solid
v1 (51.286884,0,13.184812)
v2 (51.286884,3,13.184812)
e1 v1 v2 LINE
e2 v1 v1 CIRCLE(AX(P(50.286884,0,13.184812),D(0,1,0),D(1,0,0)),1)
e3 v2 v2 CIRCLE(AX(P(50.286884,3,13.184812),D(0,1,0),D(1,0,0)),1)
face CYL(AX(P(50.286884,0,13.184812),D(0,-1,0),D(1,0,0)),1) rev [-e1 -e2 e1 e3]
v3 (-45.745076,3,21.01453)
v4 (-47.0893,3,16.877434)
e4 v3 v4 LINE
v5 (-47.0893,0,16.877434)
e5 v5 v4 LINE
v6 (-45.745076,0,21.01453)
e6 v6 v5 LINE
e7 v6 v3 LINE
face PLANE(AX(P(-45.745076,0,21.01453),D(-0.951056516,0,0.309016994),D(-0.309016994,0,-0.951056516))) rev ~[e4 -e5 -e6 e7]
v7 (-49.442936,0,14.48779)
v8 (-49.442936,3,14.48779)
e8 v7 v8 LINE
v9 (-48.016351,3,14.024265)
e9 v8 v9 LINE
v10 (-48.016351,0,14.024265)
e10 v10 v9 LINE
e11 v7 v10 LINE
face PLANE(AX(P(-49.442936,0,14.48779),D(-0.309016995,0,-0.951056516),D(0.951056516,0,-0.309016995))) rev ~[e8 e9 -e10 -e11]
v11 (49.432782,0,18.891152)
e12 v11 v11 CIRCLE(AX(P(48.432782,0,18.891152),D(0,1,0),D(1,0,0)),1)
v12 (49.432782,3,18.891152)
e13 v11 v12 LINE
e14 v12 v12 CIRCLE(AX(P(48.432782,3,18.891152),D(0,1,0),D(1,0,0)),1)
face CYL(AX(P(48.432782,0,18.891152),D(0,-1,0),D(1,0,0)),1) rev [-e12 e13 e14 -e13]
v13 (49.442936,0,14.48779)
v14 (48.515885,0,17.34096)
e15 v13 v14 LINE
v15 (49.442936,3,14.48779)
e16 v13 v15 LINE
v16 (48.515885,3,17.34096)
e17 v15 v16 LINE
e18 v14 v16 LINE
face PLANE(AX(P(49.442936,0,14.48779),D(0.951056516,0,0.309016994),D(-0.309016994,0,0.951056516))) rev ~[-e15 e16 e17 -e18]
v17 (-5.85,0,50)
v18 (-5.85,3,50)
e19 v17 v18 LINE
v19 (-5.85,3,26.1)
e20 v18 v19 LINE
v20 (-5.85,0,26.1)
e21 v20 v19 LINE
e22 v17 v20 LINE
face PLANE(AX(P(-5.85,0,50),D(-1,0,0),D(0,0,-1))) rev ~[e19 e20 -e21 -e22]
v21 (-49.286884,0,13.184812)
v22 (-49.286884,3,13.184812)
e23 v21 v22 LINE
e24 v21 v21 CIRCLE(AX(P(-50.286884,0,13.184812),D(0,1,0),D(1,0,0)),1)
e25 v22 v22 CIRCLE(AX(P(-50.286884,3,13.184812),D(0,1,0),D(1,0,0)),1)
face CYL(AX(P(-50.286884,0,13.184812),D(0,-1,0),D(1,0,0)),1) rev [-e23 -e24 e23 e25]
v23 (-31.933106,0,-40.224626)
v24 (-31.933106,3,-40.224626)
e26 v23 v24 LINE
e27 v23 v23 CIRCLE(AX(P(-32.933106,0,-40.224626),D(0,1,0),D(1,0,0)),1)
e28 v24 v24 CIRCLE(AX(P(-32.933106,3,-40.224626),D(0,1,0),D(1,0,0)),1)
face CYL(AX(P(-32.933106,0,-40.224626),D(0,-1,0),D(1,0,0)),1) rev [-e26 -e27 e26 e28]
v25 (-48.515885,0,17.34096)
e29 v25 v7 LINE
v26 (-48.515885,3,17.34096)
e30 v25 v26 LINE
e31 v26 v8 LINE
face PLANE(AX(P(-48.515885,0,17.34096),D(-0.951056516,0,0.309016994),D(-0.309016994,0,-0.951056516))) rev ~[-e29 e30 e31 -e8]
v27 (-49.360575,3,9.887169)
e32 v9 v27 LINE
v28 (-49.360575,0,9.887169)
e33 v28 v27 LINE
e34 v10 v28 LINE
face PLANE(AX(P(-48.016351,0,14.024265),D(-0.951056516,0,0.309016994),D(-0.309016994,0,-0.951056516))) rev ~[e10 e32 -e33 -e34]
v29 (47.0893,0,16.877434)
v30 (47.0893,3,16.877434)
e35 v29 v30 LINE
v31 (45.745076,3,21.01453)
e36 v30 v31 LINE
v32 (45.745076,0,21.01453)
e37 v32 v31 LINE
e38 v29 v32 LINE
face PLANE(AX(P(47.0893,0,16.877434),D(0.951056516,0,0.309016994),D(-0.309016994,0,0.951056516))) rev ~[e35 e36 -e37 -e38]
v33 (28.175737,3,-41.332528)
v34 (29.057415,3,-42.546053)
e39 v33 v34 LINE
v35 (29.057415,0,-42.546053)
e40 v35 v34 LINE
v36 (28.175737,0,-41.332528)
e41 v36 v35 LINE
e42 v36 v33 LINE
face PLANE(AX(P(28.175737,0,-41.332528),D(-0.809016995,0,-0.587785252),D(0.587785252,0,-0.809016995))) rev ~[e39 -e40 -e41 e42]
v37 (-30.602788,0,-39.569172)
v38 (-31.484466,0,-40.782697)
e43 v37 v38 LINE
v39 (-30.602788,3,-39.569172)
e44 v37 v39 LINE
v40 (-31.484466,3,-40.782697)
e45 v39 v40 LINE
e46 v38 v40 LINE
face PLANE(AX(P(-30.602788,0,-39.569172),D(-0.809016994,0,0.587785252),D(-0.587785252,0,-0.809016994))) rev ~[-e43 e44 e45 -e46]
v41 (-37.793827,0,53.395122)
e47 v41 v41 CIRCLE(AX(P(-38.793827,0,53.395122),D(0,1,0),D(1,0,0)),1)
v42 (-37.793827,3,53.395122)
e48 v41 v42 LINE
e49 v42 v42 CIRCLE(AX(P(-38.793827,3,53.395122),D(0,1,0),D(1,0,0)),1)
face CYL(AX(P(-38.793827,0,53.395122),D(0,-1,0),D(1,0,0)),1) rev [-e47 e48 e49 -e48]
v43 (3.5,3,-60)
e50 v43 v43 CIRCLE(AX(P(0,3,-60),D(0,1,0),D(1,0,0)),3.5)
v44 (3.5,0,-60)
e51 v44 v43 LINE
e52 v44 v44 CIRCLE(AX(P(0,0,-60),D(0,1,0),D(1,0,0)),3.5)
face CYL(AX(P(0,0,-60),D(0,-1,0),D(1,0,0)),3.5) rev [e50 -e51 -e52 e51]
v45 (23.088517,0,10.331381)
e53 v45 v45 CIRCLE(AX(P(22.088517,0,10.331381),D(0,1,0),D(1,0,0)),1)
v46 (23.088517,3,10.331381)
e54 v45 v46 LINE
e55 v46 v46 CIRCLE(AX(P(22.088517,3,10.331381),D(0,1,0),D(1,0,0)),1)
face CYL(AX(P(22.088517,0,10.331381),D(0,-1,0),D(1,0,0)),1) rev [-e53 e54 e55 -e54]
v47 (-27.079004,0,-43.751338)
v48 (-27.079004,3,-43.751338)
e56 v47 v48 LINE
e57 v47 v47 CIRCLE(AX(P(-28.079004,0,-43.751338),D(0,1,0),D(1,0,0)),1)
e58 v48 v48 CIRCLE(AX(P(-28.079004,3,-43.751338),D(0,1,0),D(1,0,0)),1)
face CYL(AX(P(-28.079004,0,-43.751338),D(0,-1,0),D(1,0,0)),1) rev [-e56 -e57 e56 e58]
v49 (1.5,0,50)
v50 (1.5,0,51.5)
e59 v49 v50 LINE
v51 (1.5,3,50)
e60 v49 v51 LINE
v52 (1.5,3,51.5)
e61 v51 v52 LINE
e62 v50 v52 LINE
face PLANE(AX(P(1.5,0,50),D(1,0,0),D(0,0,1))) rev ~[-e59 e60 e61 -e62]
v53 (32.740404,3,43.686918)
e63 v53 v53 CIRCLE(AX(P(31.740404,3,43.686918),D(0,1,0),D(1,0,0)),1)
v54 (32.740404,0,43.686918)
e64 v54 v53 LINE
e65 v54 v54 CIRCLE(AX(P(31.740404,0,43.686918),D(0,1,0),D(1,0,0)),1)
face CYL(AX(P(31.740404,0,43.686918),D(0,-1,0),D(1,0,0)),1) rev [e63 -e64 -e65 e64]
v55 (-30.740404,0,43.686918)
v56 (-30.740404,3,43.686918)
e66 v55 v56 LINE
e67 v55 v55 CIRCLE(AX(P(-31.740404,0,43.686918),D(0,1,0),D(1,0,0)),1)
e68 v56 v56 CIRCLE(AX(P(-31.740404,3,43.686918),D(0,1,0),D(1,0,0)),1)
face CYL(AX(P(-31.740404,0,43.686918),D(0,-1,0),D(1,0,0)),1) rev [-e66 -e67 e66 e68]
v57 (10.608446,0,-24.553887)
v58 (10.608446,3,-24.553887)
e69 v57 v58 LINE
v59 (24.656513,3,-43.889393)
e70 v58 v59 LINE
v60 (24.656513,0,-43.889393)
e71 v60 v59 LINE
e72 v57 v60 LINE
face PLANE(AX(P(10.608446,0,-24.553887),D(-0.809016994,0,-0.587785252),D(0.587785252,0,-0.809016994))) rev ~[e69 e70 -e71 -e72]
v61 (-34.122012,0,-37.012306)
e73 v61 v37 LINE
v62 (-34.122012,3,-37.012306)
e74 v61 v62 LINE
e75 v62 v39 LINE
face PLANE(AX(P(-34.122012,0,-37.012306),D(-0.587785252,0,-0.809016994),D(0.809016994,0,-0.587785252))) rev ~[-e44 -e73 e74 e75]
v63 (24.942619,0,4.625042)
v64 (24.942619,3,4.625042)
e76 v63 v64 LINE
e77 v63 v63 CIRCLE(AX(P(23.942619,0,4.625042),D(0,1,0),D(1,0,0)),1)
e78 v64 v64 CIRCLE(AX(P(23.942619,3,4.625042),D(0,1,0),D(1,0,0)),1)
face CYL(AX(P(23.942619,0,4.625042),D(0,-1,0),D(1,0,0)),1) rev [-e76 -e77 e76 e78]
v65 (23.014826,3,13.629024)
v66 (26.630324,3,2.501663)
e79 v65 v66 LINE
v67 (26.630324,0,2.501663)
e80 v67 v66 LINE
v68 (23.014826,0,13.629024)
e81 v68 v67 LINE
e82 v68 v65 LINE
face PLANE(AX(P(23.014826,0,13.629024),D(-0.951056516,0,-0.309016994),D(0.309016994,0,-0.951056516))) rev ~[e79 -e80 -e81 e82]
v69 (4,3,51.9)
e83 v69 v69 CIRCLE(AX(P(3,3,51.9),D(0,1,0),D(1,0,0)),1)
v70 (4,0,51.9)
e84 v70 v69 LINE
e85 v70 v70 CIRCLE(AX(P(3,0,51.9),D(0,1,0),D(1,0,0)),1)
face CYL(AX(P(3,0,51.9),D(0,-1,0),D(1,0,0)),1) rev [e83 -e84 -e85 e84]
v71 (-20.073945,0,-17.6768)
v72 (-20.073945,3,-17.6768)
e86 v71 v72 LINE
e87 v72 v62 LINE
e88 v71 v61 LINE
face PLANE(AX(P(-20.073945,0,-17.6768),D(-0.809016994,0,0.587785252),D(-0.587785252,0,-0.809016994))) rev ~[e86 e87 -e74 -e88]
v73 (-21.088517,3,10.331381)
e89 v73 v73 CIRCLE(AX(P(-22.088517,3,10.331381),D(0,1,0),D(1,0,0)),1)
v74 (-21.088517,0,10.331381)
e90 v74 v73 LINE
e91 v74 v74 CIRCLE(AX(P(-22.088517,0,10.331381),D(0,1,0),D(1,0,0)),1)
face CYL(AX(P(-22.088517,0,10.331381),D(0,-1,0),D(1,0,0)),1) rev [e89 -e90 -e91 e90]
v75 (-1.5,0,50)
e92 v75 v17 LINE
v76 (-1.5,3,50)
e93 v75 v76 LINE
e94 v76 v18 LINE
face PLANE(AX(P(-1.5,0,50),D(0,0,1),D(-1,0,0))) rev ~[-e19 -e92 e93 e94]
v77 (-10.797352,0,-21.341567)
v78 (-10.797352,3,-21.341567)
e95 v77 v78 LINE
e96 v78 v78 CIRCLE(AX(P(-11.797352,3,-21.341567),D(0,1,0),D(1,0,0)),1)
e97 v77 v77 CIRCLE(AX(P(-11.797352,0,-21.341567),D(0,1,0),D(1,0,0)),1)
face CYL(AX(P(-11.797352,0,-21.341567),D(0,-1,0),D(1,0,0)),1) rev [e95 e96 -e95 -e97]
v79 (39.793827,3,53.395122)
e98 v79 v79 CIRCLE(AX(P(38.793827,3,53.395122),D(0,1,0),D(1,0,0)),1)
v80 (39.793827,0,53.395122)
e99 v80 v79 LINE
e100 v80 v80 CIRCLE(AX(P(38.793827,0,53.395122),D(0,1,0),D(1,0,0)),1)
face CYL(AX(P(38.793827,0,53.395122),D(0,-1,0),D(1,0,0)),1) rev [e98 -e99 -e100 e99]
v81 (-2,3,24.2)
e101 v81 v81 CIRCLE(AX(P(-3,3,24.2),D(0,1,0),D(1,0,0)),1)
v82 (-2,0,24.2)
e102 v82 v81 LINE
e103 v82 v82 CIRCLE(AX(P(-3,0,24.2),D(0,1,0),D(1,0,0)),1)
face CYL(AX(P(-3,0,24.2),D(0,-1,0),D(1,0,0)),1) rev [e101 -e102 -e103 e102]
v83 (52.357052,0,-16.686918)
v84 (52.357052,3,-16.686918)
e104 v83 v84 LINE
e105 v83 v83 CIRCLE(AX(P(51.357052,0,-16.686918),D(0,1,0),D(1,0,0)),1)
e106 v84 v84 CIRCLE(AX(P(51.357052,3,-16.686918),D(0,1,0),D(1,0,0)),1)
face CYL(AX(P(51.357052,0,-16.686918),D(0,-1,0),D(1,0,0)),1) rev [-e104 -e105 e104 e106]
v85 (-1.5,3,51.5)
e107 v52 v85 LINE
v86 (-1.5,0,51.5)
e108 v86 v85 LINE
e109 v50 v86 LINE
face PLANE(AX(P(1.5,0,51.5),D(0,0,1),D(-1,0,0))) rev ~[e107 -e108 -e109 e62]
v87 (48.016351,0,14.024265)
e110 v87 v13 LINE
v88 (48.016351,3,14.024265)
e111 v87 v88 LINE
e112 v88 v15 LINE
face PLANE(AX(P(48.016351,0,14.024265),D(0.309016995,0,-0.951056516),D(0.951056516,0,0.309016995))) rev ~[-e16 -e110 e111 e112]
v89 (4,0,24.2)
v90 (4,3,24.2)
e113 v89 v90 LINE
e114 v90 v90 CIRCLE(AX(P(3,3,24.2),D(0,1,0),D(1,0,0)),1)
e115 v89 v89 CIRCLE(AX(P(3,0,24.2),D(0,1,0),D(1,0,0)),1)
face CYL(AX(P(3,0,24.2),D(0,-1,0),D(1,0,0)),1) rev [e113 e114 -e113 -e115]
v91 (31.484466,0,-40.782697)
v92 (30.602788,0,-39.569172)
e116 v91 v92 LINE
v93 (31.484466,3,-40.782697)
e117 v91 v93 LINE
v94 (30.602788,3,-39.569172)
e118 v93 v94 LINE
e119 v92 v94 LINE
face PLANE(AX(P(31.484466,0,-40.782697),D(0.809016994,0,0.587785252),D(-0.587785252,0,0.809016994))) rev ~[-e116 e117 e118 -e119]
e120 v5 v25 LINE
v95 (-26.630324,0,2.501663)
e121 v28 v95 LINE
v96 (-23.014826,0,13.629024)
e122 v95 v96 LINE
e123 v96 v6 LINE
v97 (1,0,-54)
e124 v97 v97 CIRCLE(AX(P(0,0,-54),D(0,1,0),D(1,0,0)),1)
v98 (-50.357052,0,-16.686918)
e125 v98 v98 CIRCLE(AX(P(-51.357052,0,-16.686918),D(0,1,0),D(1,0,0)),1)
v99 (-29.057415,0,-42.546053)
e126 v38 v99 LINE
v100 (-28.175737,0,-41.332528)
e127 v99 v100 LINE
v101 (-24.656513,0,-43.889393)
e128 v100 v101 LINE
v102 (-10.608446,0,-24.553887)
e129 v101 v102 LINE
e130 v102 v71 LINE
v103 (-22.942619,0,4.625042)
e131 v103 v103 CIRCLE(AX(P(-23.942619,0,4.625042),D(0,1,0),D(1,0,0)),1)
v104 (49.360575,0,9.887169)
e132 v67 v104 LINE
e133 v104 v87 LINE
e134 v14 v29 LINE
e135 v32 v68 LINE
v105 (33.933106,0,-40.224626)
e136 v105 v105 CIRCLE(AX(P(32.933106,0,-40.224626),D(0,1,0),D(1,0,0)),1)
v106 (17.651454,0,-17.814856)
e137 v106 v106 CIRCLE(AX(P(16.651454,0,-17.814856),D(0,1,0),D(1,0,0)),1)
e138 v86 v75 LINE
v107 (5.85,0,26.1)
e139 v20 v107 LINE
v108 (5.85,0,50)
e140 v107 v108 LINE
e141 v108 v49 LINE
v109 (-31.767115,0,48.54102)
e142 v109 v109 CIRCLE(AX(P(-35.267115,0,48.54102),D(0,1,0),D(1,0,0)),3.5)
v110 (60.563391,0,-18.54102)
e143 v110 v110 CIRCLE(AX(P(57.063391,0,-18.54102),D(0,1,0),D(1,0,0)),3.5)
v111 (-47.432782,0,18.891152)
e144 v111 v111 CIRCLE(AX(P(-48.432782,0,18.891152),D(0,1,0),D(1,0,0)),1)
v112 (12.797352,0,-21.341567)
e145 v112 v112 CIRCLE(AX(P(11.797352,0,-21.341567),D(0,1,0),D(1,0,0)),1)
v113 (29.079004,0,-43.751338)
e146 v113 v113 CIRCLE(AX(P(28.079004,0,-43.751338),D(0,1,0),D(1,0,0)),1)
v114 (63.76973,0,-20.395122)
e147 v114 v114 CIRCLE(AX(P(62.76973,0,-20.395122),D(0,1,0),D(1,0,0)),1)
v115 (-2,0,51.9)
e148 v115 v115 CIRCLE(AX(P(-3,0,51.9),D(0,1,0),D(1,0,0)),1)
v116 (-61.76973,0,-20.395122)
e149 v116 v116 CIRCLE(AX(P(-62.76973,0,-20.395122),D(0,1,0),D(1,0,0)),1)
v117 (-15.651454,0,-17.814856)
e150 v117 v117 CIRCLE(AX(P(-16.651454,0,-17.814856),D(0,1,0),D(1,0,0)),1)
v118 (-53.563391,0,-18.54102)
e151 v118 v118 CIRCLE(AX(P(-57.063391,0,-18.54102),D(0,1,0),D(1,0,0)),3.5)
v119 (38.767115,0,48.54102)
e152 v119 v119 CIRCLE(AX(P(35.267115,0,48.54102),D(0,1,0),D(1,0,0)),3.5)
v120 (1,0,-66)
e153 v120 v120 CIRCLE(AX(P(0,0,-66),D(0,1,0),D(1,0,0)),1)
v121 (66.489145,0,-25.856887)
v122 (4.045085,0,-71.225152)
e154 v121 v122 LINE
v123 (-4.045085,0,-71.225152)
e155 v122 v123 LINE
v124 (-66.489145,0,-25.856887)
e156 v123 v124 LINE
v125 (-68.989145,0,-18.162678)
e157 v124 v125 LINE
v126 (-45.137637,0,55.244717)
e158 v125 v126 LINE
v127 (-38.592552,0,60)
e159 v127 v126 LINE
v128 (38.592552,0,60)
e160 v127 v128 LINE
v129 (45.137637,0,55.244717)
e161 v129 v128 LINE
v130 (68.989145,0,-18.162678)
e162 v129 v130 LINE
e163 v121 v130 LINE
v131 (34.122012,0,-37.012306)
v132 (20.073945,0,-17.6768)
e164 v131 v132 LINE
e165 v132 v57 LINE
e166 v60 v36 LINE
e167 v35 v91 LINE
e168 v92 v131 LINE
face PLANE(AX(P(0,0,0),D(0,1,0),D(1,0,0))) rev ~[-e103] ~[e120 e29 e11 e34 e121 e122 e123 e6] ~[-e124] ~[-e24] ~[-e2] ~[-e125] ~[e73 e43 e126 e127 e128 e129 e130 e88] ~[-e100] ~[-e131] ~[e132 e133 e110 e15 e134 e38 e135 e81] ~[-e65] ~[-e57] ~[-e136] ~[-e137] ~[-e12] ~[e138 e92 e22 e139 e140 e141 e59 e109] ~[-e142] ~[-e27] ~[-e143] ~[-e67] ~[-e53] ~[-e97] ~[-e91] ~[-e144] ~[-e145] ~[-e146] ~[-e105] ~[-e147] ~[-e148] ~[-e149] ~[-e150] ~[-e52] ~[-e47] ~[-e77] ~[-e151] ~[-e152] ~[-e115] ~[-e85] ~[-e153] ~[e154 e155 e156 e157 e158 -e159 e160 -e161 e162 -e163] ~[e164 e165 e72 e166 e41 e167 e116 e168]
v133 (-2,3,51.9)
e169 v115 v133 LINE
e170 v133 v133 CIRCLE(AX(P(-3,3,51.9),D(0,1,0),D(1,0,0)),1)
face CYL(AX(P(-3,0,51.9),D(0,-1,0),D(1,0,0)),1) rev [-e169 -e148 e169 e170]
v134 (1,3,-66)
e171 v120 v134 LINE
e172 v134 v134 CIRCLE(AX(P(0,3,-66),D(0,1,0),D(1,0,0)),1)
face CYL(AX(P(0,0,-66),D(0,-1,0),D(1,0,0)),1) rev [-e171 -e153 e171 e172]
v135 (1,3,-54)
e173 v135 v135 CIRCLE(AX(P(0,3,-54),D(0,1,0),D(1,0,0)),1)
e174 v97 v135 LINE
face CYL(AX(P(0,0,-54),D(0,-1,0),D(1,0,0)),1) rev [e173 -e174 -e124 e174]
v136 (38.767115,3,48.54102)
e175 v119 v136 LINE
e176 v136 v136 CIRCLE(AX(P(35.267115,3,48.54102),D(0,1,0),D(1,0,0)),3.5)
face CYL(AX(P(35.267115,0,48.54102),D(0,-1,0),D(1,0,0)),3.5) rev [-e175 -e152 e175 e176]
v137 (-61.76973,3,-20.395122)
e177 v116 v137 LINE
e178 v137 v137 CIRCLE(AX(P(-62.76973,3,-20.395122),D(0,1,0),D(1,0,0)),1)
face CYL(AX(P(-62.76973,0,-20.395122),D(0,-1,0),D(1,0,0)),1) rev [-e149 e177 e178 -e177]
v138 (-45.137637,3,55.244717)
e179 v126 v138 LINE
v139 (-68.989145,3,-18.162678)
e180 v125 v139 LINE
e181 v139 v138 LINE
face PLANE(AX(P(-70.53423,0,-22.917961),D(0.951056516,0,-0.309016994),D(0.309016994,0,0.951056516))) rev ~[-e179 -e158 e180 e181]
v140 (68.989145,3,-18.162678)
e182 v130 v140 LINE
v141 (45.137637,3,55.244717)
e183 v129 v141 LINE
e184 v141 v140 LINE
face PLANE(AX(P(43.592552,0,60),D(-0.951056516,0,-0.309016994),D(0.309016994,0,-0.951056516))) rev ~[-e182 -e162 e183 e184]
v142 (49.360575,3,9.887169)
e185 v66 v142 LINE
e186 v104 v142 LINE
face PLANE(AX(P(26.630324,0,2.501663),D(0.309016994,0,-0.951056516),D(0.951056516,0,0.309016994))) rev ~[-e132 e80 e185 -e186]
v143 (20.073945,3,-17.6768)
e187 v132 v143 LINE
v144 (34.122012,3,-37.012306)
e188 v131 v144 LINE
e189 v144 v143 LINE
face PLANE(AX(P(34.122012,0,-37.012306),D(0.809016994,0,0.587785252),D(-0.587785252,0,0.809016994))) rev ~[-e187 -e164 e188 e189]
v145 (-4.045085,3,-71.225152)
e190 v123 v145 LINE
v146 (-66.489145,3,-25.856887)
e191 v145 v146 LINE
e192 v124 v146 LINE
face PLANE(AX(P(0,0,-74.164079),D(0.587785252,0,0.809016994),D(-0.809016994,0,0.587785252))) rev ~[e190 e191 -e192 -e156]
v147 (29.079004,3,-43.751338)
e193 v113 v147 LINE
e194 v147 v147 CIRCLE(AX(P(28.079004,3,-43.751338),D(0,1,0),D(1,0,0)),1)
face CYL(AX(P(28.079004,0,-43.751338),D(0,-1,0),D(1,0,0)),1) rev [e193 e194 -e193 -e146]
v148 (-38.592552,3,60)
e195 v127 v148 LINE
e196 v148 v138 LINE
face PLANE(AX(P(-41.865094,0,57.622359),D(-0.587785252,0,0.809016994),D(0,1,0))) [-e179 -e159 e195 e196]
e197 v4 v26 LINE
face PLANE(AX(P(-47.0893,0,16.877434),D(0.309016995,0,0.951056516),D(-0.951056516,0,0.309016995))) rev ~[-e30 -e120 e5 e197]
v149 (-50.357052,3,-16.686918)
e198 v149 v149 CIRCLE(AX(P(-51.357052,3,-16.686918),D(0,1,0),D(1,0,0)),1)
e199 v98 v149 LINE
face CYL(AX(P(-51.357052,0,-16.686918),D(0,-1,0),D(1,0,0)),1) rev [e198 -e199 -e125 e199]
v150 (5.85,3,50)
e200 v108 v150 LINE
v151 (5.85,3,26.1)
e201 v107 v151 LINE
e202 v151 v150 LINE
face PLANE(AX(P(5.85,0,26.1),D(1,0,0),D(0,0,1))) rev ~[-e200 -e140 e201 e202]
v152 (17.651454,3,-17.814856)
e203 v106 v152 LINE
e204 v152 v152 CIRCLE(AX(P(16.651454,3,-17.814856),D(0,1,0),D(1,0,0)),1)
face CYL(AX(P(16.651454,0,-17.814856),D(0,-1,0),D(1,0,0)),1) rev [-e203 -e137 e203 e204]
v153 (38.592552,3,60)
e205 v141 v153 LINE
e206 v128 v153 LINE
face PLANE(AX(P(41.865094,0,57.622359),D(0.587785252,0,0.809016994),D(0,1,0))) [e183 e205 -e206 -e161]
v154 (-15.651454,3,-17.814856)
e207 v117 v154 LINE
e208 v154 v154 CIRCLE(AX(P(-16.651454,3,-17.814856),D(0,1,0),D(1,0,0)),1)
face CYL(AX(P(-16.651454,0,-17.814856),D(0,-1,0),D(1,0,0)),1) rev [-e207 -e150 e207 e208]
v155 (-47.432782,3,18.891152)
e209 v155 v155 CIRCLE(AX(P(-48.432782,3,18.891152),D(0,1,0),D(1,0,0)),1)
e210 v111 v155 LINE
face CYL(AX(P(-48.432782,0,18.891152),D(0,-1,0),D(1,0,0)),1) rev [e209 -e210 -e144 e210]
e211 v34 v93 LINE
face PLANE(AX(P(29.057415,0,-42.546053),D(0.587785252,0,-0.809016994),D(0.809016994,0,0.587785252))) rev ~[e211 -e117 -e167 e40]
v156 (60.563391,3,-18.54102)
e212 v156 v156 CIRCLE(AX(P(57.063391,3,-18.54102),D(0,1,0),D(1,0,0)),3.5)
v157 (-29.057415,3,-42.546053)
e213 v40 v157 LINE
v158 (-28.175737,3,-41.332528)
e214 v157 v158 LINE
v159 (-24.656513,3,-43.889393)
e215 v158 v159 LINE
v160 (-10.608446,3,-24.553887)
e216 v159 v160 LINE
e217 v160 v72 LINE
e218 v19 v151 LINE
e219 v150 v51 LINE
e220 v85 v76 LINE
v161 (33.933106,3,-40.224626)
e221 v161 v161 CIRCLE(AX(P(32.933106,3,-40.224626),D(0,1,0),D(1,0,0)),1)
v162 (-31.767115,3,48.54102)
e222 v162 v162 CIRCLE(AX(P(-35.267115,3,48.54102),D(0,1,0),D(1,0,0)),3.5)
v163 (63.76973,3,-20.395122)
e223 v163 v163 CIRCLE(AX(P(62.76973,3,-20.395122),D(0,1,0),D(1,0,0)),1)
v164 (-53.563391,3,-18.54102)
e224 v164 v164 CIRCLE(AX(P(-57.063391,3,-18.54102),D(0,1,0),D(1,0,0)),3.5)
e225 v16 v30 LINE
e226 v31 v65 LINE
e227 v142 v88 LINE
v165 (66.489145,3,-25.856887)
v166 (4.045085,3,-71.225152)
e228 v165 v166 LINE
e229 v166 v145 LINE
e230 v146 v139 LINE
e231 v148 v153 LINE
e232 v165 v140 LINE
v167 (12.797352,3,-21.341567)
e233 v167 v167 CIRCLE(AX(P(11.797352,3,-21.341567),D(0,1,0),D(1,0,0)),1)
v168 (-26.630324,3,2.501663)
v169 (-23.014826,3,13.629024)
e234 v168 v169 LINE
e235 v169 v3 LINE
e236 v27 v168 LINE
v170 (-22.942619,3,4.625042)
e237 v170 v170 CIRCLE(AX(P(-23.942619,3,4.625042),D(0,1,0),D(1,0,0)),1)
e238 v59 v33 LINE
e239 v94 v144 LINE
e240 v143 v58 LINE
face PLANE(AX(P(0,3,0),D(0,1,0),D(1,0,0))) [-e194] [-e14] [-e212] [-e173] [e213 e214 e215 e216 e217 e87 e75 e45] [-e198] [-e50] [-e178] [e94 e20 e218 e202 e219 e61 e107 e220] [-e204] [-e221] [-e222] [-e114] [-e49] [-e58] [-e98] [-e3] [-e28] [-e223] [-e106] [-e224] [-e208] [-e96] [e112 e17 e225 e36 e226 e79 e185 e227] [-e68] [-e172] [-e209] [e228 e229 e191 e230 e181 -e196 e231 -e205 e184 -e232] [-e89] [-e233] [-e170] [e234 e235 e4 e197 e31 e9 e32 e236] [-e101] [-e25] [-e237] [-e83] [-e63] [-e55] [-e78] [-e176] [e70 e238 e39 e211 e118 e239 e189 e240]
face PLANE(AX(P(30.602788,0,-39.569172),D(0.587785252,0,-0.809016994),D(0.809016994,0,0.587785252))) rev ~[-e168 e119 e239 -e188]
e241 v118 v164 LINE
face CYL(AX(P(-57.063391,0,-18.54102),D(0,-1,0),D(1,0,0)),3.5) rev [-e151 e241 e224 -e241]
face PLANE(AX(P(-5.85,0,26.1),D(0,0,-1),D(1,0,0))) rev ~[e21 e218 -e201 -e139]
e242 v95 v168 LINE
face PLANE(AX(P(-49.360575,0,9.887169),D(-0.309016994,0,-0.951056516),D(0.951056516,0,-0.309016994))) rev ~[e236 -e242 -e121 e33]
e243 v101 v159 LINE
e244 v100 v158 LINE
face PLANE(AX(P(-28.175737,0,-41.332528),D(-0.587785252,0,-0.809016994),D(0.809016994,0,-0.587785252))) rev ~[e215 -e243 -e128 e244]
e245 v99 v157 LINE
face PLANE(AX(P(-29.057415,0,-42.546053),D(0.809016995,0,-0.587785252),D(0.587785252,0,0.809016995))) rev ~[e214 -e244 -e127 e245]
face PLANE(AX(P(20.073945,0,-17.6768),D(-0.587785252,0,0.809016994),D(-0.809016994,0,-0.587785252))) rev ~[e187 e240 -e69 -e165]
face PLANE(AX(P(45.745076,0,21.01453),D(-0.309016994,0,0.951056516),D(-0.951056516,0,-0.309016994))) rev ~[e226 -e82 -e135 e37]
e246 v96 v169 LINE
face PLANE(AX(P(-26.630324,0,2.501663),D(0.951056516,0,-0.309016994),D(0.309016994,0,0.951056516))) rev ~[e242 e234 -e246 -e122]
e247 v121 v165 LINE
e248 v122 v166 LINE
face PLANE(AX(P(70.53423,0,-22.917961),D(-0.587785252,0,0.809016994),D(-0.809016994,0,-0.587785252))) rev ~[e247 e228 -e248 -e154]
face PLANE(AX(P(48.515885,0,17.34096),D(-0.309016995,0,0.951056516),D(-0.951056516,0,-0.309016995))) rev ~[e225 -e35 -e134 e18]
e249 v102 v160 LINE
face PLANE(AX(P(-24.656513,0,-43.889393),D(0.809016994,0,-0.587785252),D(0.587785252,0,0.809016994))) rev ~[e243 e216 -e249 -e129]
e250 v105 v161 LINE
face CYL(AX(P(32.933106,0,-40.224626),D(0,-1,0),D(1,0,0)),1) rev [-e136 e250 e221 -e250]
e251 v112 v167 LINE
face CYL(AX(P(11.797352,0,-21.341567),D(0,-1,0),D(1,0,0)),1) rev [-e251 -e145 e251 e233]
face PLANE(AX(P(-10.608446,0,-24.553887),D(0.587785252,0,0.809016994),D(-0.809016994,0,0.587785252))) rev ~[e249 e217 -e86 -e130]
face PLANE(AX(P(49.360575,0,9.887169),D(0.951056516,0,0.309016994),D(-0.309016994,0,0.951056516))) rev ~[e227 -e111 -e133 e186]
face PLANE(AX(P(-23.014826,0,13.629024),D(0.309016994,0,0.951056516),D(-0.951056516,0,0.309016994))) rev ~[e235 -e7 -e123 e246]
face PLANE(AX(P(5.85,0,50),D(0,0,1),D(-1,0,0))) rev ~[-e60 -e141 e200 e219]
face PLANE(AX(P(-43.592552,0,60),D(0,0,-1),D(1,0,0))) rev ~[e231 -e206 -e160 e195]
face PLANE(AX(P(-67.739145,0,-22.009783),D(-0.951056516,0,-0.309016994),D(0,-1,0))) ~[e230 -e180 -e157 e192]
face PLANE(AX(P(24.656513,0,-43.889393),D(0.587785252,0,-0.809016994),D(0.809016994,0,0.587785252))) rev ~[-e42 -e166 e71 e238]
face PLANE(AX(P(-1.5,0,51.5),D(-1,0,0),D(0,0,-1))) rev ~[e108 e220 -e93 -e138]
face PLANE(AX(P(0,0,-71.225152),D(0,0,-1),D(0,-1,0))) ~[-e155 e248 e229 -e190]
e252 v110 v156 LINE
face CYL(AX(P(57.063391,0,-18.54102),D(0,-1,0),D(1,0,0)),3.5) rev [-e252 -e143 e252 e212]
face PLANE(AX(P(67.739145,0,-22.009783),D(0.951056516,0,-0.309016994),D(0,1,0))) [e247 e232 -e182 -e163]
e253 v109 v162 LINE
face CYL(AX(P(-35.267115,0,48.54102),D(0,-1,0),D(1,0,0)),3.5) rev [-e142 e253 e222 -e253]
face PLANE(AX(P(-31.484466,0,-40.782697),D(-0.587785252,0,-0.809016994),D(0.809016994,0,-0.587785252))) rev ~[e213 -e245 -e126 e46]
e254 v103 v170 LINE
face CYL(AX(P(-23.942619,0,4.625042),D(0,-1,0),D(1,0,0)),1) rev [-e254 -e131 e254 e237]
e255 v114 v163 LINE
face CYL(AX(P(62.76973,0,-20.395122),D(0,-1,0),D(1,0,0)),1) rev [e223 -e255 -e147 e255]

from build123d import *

# Parameters (mm, degrees)
ESQUISSE2_R        = 3.5
ESQUISSE2_R_2      = 1
BOSS_EXTRU_1_DEPTH = 3
CHANFREIN2_SIZE    = 5


with BuildPart() as part:
    # Esquisse2 → Boss.-Extru.1 (new body)
    with BuildSketch(Plane(origin=(0, 0, 0), x_dir=(1, 0, 0), z_dir=(0, 1, 0))):
        Polygon((70.534230275, 22.917960675), (0, 74.16407865), (-70.534230275, 22.917960675), (-43.59255168, -60), (43.59255168, -60), align=None)
        with Locations((-57.063390978, 18.541019662)):
            Circle(ESQUISSE2_R, mode=Mode.SUBTRACT)
        with Locations((0, 60)):
            Circle(ESQUISSE2_R, mode=Mode.SUBTRACT)
        with Locations((57.063390978, 18.541019662)):
            Circle(ESQUISSE2_R, mode=Mode.SUBTRACT)
        with Locations((35.267115138, -48.541019662)):
            Circle(ESQUISSE2_R, mode=Mode.SUBTRACT)
        with Locations((-35.267115138, -48.541019662)):
            Circle(ESQUISSE2_R, mode=Mode.SUBTRACT)
        with Locations((-62.769730075, 20.395121629)):
            Circle(ESQUISSE2_R_2, mode=Mode.SUBTRACT)
        with Locations((-51.35705188, 16.686917696)):
            Circle(ESQUISSE2_R_2, mode=Mode.SUBTRACT)
        with Locations((0, 66)):
            Circle(ESQUISSE2_R_2, mode=Mode.SUBTRACT)
        with Locations((0, 54)):
            Circle(ESQUISSE2_R_2, mode=Mode.SUBTRACT)
        with Locations((62.769730075, 20.395121629)):
            Circle(ESQUISSE2_R_2, mode=Mode.SUBTRACT)
        with Locations((51.35705188, 16.686917696)):
            Circle(ESQUISSE2_R_2, mode=Mode.SUBTRACT)
        with Locations((38.793826651, -53.395121629)):
            Circle(ESQUISSE2_R_2, mode=Mode.SUBTRACT)
        with Locations((31.740403624, -43.686917696)):
            Circle(ESQUISSE2_R_2, mode=Mode.SUBTRACT)
        with Locations((-38.793826651, -53.395121629)):
            Circle(ESQUISSE2_R_2, mode=Mode.SUBTRACT)
        with Locations((-31.740403624, -43.686917696)):
            Circle(ESQUISSE2_R_2, mode=Mode.SUBTRACT)
        with Locations((-3, -51.9)):
            Circle(ESQUISSE2_R_2, mode=Mode.SUBTRACT)
        with Locations((3, -51.9)):
            Circle(ESQUISSE2_R_2, mode=Mode.SUBTRACT)
        with Locations((3, -24.2)):
            Circle(ESQUISSE2_R_2, mode=Mode.SUBTRACT)
        with Locations((-3, -24.2)):
            Circle(ESQUISSE2_R_2, mode=Mode.SUBTRACT)
        with Locations((-23.942618677, -4.625041715)):
            Circle(ESQUISSE2_R_2, mode=Mode.SUBTRACT)
        with Locations((-22.088516711, -10.331380813)):
            Circle(ESQUISSE2_R_2, mode=Mode.SUBTRACT)
        with Locations((-48.432782213, -18.891151557)):
            Circle(ESQUISSE2_R_2, mode=Mode.SUBTRACT)
        with Locations((-50.286884179, -13.184812459)):
            Circle(ESQUISSE2_R_2, mode=Mode.SUBTRACT)
        with Locations((-11.797352122, 21.341567021)):
            Circle(ESQUISSE2_R_2, mode=Mode.SUBTRACT)
        with Locations((-16.651454089, 17.814855507)):
            Circle(ESQUISSE2_R_2, mode=Mode.SUBTRACT)
        with Locations((-32.933105577, 40.224626251)):
            Circle(ESQUISSE2_R_2, mode=Mode.SUBTRACT)
        with Locations((-28.079003611, 43.751337765)):
            Circle(ESQUISSE2_R_2, mode=Mode.SUBTRACT)
        with Locations((16.651454089, 17.814855507)):
            Circle(ESQUISSE2_R_2, mode=Mode.SUBTRACT)
        with Locations((11.797352122, 21.341567021)):
            Circle(ESQUISSE2_R_2, mode=Mode.SUBTRACT)
        with Locations((28.079003611, 43.751337765)):
            Circle(ESQUISSE2_R_2, mode=Mode.SUBTRACT)
        with Locations((32.933105577, 40.224626251)):
            Circle(ESQUISSE2_R_2, mode=Mode.SUBTRACT)
        with Locations((22.088516711, -10.331380813)):
            Circle(ESQUISSE2_R_2, mode=Mode.SUBTRACT)
        with Locations((23.942618677, -4.625041715)):
            Circle(ESQUISSE2_R_2, mode=Mode.SUBTRACT)
        with Locations((50.286884179, -13.184812459)):
            Circle(ESQUISSE2_R_2, mode=Mode.SUBTRACT)
        with Locations((48.432782213, -18.891151557)):
            Circle(ESQUISSE2_R_2, mode=Mode.SUBTRACT)
        Polygon((-5.85, -26.1), (5.85, -26.1), (5.85, -50), (1.5, -50), (1.5, -51.5), (-1.5, -51.5), (-1.5, -50), (-5.85, -50), align=None, mode=Mode.SUBTRACT)
        Polygon((-23.014825658, -13.629024174), (-45.745076398, -21.014530339), (-47.089300323, -16.877434493), (-48.515885098, -17.340959985), (-49.442936081, -14.487790436), (-48.016351306, -14.024264944), (-49.360575232, -9.887169098), (-26.630324492, -2.501662933), align=None, mode=Mode.SUBTRACT)
        Polygon((-20.073944502, 17.676799827), (-34.122012032, 37.012305993), (-30.602788106, 39.56917184), (-31.484465985, 40.782697332), (-29.057415001, 42.546053089), (-28.175737123, 41.332527597), (-24.656513198, 43.889393445), (-10.608445668, 24.553887279), align=None, mode=Mode.SUBTRACT)
        Polygon((10.608445668, 24.553887279), (24.656513198, 43.889393445), (28.175737123, 41.332527597), (29.057415001, 42.546053089), (31.484465985, 40.782697332), (30.602788106, 39.56917184), (34.122012032, 37.012305993), (20.073944502, 17.676799827), align=None, mode=Mode.SUBTRACT)
        Polygon((26.630324492, -2.501662933), (49.360575232, -9.887169098), (48.016351306, -14.024264944), (49.442936081, -14.487790436), (48.515885098, -17.340959985), (47.089300323, -16.877434493), (45.745076398, -21.014530339), (23.014825658, -13.629024174), align=None, mode=Mode.SUBTRACT)
    extrude(amount=BOSS_EXTRU_1_DEPTH)

    # Chanfrein2
    chanfrein2_edges = [part.edges().sort_by_distance(p)[0] for p in [
        (43.59255168, 1.5, 60),
        (-43.59255168, 1.5, 60),
        (-70.534230275, 1.5, -22.917960675),
        (0, 1.5, -74.16407865),
        (70.534230275, 1.5, -22.917960675),
    ]]
    chamfer(chanfrein2_edges, length=CHANFREIN2_SIZE)


solid = part.part
